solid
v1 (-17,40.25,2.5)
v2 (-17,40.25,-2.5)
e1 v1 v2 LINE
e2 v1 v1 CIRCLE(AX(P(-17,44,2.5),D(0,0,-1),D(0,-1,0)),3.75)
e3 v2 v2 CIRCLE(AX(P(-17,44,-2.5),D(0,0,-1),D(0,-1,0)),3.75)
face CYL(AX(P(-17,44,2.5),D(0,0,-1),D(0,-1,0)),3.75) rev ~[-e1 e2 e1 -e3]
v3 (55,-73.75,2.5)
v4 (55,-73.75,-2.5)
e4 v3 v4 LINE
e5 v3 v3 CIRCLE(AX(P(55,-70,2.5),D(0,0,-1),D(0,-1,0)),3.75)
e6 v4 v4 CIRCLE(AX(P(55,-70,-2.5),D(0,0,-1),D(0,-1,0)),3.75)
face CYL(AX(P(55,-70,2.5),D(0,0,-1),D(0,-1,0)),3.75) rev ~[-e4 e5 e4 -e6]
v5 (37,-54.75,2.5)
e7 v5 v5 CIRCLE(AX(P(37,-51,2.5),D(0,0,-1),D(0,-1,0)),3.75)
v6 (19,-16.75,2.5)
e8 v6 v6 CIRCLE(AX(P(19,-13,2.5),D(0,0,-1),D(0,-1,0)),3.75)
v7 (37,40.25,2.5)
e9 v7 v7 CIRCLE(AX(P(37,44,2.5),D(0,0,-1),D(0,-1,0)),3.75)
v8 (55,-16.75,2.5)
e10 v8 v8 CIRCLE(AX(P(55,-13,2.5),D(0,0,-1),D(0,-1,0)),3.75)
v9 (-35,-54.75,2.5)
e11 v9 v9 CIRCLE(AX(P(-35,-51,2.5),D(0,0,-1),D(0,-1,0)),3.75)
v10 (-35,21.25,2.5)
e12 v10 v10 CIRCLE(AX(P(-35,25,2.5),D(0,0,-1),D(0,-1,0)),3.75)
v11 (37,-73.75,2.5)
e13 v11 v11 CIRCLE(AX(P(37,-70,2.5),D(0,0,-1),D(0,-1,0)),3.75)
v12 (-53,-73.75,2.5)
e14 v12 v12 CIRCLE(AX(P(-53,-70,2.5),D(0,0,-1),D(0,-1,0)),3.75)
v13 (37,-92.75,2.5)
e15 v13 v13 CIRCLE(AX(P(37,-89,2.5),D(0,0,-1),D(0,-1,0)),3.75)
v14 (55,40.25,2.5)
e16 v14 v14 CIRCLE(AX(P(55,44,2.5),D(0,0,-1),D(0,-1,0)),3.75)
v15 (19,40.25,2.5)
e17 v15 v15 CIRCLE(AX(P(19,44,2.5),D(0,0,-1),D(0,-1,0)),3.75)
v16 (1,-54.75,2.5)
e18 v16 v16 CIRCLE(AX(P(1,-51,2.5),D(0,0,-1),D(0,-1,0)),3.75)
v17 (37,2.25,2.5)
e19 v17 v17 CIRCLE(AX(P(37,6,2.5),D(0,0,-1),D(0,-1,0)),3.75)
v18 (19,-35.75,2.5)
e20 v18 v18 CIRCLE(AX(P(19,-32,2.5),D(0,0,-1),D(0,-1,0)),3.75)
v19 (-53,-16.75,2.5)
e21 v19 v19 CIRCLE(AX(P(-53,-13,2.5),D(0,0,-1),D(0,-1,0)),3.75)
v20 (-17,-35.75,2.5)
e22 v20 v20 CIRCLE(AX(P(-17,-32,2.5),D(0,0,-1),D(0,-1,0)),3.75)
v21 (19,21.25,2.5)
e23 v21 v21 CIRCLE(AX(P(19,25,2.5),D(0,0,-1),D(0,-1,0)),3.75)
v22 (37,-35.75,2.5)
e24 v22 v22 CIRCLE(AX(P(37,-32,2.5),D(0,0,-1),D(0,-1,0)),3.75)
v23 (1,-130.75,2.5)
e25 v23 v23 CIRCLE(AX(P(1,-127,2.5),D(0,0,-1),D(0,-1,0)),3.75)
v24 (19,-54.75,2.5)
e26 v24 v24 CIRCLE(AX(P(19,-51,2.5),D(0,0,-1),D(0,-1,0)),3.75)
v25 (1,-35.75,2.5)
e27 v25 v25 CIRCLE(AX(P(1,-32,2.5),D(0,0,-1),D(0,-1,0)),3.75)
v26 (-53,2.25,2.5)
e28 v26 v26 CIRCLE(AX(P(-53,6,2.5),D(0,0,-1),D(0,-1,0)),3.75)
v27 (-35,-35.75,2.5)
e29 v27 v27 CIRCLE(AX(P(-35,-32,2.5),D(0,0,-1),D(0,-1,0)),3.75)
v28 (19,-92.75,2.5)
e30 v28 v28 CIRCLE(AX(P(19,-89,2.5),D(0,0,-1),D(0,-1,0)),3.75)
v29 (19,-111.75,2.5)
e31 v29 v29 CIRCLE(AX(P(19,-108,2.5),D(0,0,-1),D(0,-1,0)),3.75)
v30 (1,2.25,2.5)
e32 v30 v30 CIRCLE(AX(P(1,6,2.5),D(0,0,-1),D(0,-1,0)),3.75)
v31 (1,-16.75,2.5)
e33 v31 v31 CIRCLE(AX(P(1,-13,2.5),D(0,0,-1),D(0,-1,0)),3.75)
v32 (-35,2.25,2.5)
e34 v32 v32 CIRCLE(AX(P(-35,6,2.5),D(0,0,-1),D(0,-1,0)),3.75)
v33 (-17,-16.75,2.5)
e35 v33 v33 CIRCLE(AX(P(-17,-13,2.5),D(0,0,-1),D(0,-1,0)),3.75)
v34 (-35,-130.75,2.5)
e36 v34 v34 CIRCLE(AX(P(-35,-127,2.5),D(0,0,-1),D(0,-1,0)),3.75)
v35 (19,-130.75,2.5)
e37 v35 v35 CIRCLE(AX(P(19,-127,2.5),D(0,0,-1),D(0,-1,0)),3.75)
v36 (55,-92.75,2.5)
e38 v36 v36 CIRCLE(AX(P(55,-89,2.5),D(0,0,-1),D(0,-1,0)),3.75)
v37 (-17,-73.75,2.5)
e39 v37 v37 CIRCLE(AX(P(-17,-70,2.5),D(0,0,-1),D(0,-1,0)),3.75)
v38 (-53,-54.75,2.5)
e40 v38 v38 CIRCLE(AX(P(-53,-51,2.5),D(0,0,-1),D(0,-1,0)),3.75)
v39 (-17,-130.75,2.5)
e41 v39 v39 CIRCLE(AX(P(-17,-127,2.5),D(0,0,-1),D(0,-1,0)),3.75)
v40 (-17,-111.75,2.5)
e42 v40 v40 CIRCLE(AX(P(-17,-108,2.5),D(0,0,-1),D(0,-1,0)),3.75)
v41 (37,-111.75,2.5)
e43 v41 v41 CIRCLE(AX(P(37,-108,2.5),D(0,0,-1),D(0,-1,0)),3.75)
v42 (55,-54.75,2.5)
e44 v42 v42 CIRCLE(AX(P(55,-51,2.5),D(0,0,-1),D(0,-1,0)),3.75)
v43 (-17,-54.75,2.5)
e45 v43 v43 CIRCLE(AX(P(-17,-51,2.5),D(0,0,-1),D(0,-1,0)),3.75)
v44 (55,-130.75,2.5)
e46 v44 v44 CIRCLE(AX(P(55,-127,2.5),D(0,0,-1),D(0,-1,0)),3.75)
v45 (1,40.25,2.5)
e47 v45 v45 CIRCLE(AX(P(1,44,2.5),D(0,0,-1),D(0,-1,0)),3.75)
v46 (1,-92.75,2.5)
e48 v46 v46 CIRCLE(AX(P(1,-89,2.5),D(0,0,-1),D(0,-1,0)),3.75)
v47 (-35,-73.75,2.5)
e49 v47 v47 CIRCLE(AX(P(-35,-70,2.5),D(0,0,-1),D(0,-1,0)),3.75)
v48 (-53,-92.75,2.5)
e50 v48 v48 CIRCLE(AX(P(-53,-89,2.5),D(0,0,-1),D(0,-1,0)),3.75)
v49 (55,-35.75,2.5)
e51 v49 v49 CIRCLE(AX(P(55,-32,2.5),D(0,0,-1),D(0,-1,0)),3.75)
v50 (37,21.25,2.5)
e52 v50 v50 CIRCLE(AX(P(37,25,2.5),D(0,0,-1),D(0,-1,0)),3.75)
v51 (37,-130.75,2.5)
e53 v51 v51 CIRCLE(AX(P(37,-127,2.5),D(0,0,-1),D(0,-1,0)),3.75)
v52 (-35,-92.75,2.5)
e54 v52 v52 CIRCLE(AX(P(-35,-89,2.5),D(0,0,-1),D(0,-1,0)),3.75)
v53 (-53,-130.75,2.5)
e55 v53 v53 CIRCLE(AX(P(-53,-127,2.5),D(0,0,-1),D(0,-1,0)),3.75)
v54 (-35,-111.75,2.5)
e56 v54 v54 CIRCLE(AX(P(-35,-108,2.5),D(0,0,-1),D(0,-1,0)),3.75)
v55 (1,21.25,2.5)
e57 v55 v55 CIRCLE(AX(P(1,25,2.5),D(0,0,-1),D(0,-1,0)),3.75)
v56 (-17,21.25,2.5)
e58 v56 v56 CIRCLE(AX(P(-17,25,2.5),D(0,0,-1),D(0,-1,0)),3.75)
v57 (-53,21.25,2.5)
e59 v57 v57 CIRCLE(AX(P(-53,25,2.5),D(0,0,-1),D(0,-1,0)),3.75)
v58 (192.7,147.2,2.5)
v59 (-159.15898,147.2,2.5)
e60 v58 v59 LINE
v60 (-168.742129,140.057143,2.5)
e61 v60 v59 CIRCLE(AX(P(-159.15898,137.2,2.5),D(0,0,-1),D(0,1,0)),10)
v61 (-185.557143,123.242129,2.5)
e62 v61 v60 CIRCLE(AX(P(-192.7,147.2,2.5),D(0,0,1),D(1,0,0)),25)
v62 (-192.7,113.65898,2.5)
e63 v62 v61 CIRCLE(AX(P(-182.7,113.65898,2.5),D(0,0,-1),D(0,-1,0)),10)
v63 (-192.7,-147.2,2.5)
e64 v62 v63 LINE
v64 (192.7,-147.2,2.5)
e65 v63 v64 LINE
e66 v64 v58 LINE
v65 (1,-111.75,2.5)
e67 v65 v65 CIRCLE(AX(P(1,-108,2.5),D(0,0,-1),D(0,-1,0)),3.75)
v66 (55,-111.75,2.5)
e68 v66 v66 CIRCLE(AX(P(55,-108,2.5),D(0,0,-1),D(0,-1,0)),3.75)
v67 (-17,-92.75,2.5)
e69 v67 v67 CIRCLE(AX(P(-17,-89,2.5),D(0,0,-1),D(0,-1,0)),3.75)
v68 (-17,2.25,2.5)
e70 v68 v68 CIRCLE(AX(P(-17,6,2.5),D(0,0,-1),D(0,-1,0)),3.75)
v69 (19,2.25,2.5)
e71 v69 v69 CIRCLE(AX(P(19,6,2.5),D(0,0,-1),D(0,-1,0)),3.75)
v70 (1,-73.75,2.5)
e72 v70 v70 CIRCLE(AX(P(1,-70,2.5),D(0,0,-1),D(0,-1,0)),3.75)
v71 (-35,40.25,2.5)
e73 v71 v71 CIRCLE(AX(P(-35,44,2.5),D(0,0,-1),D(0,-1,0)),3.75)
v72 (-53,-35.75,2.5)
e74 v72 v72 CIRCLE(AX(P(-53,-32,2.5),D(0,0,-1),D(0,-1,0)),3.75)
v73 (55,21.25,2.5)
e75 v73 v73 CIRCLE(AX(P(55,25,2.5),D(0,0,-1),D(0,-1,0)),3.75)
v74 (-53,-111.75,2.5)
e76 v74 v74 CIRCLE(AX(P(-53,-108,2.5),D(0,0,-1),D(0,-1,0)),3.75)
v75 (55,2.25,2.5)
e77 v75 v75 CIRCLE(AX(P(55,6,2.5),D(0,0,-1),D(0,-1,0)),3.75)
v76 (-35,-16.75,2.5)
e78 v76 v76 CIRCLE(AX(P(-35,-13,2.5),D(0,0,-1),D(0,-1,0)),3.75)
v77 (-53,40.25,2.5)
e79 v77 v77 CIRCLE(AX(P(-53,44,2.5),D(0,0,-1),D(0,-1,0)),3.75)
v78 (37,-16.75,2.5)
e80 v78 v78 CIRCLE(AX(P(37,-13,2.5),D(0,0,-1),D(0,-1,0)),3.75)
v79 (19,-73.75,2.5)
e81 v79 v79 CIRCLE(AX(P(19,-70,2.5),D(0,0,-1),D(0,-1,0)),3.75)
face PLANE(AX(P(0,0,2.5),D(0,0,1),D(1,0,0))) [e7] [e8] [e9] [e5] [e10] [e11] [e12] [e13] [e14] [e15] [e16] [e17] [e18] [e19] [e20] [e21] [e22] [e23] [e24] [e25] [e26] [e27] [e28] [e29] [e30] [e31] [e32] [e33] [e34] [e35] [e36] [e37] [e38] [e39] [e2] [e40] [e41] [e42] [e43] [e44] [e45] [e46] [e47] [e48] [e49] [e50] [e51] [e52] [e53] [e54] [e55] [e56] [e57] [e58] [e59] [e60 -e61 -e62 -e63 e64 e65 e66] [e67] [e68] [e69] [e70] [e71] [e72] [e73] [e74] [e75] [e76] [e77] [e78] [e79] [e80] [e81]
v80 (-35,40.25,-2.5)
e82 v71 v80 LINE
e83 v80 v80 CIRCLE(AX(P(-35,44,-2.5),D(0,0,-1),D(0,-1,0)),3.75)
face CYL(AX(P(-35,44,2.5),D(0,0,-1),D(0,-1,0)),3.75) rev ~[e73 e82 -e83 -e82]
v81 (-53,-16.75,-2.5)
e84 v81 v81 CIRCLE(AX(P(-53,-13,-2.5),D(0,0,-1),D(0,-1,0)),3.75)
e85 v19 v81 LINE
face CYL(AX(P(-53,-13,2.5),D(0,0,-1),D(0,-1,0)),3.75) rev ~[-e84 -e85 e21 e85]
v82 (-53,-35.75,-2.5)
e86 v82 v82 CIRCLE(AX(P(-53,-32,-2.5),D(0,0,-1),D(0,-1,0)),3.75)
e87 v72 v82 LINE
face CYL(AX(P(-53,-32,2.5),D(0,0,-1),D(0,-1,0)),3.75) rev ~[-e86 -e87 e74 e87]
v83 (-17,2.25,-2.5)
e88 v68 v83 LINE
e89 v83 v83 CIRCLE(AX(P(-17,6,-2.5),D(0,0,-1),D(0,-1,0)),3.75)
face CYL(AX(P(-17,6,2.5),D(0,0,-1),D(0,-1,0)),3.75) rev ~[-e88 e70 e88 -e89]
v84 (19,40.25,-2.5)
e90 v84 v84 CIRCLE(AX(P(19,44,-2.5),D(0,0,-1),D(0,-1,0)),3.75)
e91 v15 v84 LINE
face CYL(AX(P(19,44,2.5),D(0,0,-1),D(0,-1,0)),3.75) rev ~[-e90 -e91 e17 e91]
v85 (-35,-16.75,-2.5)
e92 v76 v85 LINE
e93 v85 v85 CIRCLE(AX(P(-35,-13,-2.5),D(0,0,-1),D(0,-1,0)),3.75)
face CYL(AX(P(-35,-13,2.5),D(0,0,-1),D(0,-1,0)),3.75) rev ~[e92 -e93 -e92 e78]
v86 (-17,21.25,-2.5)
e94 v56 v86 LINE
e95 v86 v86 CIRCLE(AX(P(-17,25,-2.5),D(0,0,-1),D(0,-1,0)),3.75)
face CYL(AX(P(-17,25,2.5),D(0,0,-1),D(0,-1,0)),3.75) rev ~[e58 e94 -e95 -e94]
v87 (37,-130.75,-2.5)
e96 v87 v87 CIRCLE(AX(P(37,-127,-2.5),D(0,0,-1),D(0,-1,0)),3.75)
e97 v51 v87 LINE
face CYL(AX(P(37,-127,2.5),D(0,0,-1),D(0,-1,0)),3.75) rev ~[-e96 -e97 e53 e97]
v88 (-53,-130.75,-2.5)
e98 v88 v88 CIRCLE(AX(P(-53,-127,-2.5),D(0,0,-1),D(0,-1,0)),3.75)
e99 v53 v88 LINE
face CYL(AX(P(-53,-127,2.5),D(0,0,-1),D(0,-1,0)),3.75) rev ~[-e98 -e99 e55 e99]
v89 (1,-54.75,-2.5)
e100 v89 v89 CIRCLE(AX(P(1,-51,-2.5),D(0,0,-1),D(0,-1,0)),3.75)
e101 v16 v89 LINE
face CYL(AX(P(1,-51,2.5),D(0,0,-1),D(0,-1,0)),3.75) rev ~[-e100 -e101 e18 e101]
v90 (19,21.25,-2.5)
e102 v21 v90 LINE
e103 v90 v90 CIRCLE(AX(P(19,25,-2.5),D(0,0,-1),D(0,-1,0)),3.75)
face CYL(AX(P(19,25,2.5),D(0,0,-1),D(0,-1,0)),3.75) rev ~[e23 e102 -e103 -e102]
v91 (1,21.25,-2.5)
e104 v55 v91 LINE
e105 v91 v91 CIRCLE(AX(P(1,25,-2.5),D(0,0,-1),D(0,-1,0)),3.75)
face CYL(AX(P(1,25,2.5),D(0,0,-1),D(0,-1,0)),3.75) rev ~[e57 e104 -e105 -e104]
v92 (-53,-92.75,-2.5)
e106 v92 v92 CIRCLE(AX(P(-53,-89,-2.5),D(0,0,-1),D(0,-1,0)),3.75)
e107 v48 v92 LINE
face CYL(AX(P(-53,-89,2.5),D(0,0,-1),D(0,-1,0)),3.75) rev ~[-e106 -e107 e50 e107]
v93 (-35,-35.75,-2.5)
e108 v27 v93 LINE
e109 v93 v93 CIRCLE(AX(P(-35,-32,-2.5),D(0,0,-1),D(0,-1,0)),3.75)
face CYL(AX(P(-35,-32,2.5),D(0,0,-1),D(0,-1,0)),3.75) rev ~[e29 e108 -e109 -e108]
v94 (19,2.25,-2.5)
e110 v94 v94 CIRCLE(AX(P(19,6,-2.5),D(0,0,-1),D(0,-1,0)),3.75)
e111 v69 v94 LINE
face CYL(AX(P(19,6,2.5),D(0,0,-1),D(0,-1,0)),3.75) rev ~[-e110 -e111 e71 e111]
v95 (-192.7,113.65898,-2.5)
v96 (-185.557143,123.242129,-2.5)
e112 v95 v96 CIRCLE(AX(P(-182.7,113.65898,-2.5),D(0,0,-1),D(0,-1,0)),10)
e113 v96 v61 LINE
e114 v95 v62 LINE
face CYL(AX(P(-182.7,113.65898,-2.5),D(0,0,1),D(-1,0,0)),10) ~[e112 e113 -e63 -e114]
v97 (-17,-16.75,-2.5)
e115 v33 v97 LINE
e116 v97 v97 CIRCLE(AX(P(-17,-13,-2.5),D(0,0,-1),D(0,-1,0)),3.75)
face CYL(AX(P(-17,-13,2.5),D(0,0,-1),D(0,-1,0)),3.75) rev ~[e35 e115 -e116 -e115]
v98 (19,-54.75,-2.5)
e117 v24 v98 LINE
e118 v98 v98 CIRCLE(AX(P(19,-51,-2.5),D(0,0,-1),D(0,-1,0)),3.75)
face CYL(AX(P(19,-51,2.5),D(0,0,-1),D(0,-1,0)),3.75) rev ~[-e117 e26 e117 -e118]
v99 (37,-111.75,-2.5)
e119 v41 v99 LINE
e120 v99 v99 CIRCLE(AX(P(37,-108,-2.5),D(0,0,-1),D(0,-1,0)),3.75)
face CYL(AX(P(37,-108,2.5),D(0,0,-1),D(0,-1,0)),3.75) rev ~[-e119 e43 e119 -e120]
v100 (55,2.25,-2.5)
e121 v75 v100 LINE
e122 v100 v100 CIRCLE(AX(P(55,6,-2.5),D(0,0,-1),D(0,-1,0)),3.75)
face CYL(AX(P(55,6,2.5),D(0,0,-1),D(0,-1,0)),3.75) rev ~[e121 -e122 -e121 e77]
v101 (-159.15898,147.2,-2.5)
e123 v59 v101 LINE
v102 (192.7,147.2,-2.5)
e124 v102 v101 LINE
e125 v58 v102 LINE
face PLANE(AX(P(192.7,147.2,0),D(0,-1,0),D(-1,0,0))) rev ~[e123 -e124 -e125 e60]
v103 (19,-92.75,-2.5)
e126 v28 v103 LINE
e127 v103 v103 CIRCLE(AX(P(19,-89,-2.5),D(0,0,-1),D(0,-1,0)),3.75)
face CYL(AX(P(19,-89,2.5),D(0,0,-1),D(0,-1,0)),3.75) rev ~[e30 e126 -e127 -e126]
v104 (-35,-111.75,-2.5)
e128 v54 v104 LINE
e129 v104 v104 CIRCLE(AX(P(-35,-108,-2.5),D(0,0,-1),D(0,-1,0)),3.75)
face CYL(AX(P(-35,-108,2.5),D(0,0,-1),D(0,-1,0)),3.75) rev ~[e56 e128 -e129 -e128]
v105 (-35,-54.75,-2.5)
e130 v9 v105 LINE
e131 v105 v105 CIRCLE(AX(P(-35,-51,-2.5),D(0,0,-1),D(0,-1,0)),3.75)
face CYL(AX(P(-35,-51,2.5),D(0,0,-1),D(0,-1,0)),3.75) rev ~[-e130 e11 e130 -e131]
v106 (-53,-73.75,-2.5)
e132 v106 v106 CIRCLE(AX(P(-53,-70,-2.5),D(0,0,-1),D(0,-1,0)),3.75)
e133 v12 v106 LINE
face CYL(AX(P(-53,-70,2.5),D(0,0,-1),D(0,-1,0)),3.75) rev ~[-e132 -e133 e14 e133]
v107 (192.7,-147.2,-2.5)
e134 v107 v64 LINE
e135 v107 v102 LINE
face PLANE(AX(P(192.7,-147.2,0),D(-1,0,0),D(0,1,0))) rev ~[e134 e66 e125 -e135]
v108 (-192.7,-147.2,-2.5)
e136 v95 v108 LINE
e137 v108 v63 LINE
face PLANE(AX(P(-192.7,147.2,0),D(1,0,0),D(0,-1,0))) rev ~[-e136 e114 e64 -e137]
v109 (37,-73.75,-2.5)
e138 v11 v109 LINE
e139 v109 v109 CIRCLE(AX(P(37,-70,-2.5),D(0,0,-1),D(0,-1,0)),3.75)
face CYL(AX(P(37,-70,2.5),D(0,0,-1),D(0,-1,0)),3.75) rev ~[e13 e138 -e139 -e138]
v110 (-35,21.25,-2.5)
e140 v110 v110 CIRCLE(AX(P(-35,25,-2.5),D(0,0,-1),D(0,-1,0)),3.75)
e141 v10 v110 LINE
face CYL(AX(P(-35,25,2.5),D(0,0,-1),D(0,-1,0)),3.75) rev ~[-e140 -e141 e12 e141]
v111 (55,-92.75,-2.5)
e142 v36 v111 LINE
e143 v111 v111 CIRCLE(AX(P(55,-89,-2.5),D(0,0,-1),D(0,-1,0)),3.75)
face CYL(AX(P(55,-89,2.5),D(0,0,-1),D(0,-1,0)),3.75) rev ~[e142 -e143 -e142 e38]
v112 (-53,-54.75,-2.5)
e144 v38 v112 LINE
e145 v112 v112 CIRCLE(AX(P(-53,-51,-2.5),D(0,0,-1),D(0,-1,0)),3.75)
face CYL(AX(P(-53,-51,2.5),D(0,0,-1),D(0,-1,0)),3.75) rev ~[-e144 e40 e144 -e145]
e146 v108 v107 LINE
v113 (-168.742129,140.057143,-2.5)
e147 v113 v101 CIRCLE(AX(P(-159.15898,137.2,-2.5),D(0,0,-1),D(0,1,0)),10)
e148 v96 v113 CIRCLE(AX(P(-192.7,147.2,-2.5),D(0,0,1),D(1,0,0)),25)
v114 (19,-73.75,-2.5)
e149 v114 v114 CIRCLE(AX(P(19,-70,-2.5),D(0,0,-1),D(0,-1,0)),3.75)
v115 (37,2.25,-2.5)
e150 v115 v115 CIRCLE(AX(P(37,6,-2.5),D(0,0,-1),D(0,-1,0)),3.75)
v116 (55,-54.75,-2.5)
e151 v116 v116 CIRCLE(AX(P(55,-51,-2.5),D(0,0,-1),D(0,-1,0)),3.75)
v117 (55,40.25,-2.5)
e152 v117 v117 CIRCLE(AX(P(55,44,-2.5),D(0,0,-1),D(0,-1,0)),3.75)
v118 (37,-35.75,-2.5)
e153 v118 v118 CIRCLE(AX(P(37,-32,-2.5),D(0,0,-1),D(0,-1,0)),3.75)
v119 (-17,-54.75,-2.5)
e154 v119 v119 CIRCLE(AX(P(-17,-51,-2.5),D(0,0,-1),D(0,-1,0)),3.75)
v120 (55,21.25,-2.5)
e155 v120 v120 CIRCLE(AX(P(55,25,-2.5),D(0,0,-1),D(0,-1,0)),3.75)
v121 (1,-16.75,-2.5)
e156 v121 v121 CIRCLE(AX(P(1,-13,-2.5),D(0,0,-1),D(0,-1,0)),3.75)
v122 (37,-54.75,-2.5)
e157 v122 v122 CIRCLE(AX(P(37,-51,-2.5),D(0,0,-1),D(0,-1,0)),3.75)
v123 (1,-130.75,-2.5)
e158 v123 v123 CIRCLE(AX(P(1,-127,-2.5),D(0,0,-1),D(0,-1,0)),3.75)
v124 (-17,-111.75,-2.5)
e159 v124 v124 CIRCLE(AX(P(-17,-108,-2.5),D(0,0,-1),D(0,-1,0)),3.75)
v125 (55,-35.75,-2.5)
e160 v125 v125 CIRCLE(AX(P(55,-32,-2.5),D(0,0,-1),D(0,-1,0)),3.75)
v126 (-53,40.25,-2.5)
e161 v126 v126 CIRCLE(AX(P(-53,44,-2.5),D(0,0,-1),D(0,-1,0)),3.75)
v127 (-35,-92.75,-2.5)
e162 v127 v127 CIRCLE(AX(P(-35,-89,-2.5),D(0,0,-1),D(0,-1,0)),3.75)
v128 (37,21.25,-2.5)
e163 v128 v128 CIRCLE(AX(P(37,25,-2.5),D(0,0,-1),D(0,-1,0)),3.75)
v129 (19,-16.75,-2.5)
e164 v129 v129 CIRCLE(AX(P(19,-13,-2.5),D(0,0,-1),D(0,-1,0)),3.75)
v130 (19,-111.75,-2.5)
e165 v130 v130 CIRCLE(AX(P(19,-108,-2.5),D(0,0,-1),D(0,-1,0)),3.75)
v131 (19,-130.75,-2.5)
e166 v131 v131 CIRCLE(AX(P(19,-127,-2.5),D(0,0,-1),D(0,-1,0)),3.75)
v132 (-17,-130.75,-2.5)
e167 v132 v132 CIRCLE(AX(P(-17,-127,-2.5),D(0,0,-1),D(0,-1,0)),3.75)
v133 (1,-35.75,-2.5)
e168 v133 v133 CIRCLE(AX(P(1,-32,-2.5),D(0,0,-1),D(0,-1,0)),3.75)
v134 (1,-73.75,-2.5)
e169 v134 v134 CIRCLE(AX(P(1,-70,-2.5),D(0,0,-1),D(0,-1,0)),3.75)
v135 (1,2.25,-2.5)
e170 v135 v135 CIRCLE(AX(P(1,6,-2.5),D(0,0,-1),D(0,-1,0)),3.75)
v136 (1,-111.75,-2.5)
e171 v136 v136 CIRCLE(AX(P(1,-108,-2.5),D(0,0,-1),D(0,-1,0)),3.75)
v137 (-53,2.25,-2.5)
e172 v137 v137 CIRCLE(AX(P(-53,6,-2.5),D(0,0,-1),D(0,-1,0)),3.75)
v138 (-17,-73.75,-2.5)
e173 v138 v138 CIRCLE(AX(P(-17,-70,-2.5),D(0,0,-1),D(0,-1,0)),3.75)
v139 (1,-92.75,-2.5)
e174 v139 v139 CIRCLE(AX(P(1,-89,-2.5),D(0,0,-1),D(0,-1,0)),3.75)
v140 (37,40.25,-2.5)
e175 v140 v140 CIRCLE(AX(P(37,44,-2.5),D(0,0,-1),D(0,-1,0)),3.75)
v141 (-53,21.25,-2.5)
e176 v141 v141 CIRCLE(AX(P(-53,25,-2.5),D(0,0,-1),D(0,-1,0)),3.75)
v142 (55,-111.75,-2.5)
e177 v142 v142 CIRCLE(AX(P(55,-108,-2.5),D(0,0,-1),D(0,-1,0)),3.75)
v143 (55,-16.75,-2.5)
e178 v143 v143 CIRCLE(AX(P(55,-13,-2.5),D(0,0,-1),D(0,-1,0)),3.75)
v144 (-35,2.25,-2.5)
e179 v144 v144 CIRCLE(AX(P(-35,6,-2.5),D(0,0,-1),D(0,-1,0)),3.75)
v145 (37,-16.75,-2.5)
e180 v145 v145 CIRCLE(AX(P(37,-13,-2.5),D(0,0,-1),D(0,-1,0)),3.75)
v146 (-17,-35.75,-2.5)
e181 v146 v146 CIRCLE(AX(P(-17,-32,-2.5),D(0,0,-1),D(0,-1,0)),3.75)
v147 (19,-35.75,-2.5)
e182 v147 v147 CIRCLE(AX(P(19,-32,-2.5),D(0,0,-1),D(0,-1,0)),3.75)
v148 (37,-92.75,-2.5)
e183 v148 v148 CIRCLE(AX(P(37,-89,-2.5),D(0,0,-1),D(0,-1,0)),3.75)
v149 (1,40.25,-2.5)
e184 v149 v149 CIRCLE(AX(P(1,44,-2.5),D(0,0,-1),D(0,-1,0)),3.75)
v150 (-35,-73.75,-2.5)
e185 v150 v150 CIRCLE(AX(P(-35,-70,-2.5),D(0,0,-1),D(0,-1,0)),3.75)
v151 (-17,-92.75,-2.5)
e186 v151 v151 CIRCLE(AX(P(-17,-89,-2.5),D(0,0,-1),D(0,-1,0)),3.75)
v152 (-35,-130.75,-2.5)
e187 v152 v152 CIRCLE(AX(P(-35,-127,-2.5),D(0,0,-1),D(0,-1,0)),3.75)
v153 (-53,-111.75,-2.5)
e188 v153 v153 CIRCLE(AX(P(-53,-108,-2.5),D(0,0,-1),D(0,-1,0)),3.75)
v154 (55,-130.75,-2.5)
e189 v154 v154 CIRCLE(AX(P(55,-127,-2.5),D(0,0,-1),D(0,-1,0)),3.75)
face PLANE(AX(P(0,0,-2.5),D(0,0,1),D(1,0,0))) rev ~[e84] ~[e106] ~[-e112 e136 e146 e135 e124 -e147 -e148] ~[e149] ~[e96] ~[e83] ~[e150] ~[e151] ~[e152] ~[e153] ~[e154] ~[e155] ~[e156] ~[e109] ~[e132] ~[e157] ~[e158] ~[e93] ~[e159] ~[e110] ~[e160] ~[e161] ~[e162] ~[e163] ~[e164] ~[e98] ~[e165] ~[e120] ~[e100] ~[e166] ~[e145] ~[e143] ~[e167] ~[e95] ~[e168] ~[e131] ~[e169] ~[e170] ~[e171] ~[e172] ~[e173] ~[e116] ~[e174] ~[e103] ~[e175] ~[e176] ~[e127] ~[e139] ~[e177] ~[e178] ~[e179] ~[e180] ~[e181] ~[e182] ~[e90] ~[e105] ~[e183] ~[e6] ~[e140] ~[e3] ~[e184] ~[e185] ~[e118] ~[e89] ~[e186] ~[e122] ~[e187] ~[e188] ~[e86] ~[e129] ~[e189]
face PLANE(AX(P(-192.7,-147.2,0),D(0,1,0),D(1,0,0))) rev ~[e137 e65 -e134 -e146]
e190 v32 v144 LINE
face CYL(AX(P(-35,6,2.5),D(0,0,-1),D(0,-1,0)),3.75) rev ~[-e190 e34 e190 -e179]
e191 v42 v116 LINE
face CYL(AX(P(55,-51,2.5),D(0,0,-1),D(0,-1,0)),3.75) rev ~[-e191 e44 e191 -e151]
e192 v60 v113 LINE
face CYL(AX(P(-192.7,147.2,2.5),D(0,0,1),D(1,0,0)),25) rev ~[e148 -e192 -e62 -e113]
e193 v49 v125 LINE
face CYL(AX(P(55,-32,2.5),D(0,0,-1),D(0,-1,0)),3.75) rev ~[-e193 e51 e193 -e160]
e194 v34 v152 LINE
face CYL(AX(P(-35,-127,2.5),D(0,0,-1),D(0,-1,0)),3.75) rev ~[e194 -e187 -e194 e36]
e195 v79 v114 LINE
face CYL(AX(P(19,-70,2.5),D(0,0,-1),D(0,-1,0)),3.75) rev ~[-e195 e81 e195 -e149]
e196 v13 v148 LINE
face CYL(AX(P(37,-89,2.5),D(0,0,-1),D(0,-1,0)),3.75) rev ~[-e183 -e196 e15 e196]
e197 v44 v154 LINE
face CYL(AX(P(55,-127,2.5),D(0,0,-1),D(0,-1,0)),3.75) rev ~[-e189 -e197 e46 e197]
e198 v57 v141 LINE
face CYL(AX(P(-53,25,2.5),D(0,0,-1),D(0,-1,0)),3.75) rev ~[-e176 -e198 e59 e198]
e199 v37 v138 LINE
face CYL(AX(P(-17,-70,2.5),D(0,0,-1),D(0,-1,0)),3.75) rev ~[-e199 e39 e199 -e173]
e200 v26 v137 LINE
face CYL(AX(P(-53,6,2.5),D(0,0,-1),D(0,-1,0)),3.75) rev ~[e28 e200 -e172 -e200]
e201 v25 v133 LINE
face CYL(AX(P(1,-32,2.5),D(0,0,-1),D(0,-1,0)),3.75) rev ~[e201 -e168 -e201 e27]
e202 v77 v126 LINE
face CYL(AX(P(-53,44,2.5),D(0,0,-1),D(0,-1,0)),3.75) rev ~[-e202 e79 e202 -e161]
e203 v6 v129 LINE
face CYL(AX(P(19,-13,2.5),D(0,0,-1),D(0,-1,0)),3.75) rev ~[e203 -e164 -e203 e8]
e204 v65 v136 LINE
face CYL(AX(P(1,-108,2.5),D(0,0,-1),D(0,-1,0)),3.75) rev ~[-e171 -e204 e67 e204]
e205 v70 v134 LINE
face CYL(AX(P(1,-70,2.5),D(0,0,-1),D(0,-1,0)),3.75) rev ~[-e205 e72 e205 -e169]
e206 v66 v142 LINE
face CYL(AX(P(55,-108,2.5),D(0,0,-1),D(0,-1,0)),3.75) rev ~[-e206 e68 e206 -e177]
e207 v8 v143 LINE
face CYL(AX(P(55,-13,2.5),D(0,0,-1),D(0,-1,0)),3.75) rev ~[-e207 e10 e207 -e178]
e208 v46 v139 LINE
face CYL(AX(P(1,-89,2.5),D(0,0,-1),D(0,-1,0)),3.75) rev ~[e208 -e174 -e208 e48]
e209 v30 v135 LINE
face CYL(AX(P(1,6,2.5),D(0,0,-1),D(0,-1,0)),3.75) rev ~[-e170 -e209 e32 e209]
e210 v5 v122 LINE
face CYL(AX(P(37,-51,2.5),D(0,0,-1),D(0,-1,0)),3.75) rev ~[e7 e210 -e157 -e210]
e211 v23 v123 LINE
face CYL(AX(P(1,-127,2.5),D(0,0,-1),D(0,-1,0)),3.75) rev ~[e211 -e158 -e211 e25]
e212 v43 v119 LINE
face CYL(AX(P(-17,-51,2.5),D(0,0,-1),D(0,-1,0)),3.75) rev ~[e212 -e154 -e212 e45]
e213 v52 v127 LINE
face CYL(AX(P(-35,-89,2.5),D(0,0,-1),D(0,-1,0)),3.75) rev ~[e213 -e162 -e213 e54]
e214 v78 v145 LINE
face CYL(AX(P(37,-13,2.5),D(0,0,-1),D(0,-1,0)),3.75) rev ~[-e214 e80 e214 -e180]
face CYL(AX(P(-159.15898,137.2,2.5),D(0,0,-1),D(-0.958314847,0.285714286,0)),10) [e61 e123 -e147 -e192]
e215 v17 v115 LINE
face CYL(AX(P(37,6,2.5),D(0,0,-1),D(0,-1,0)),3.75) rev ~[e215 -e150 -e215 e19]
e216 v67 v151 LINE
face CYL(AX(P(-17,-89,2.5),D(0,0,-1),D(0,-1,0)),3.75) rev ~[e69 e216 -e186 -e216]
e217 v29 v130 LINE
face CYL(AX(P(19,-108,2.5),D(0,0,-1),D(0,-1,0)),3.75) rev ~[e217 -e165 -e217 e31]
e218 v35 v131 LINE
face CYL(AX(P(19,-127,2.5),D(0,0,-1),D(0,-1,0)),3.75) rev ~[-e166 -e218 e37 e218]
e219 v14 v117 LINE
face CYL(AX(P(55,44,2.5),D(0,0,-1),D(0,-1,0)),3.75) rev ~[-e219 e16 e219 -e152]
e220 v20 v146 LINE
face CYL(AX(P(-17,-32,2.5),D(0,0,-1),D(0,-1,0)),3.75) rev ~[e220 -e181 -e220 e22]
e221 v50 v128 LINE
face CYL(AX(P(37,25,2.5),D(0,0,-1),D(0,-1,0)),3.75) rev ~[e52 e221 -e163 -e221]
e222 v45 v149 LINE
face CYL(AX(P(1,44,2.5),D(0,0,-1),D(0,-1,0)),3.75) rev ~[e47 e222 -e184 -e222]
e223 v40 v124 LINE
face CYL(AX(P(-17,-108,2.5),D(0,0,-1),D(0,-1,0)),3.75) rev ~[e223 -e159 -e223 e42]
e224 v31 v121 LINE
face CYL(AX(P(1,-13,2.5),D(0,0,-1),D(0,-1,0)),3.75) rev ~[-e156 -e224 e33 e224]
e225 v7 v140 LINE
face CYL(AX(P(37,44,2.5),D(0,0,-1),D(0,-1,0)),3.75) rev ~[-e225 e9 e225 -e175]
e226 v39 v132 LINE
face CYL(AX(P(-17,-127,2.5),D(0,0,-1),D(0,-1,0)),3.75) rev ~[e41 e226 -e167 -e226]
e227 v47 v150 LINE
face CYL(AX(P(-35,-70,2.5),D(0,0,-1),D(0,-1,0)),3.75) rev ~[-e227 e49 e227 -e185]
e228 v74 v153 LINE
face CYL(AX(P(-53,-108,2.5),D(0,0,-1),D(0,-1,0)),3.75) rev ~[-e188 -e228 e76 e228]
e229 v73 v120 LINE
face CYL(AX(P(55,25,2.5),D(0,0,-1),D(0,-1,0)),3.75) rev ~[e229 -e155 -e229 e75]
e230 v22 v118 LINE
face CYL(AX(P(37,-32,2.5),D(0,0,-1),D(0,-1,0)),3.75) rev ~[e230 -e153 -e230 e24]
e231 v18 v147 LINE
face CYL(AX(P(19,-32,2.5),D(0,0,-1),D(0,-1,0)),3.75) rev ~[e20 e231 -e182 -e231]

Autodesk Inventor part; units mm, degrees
ref_plane "YZ Plane" through (0, 0, 0) normal (1, 0, 0) x (0, 1, 0)
ref_plane "XZ Plane" through (0, 0, 0) normal (0, 1, 0) x (-1, 0, 0)
ref_plane "XY Plane" through (0, 0, 0) normal (0, 0, 1) x (1, 0, 0)
sketch "Esquisse1" plane through (0, 0, 0) normal (0, 0, 1) x (1, 0, 0)
  line L0 (-192.7, -147.2) -> (192.7, -147.2)
  line L1 (192.7, -147.2) -> (192.7, 147.2)
  line L2 (192.7, 147.2) -> (-192.7, 147.2)
  line L3 (-192.7, 147.2) -> (-192.7, -147.2)
  line L4 (-192.7, -147.2) -> (192.7, 147.2) construction
  line L5 (192.7, -147.2) -> (-192.7, 147.2) construction
  point P0 (0, 0)
  dimension "Largueur_plaque_inf" = 385.4
  dimension "Profondeur_plaque_inf" = 294.4
extrude "Embase" add sketch "Esquisse1" along normal mid plane 5
sketch "Esquisse2" plane through (0, 0, 2.5) normal (0, 0, 1) x (1, 0, 0)
  point P0 (0, 0)
  point P1 (-53, -127)
  dimension "d4" = 53
  dimension "d5" = 127
hole "Perçage" at (-53, -127, 2.5) direction (0, 0, -1) diameter 7.5 end through all
pattern_linear "Réseau rectangulaire largueur" count 7 spacing 18 along (1, 0, 0) of "Perçage"
pattern_linear "Réseau rectangulaire profondeur" count 10 spacing 19 along (0, 1, 0) of "Perçage", "Réseau rectangulaire largueur"
sketch "Esquisse3" plane through (0, 0, 2.5) normal (0, 0, 1) x (1, 0, 0)
  circle A0 centre (-192.7, 147.2) radius 25
  line L0 (192.7, 147.2) -> (-192.7, 147.2) construction
  line L1 (-192.7, 147.2) -> (-192.7, -147.2) construction
  point P0 (0, 0)
  dimension "d19" = 50
extrude "Passage cable" cut sketch "Esquisse3" against normal through all
fillet "Congé1" radius 10 2 edges at (-192.7, 122.2, 0) (-167.7, 147.2, 0)
properties part number "Plaque inferieur" material "Plastique PMMA"
